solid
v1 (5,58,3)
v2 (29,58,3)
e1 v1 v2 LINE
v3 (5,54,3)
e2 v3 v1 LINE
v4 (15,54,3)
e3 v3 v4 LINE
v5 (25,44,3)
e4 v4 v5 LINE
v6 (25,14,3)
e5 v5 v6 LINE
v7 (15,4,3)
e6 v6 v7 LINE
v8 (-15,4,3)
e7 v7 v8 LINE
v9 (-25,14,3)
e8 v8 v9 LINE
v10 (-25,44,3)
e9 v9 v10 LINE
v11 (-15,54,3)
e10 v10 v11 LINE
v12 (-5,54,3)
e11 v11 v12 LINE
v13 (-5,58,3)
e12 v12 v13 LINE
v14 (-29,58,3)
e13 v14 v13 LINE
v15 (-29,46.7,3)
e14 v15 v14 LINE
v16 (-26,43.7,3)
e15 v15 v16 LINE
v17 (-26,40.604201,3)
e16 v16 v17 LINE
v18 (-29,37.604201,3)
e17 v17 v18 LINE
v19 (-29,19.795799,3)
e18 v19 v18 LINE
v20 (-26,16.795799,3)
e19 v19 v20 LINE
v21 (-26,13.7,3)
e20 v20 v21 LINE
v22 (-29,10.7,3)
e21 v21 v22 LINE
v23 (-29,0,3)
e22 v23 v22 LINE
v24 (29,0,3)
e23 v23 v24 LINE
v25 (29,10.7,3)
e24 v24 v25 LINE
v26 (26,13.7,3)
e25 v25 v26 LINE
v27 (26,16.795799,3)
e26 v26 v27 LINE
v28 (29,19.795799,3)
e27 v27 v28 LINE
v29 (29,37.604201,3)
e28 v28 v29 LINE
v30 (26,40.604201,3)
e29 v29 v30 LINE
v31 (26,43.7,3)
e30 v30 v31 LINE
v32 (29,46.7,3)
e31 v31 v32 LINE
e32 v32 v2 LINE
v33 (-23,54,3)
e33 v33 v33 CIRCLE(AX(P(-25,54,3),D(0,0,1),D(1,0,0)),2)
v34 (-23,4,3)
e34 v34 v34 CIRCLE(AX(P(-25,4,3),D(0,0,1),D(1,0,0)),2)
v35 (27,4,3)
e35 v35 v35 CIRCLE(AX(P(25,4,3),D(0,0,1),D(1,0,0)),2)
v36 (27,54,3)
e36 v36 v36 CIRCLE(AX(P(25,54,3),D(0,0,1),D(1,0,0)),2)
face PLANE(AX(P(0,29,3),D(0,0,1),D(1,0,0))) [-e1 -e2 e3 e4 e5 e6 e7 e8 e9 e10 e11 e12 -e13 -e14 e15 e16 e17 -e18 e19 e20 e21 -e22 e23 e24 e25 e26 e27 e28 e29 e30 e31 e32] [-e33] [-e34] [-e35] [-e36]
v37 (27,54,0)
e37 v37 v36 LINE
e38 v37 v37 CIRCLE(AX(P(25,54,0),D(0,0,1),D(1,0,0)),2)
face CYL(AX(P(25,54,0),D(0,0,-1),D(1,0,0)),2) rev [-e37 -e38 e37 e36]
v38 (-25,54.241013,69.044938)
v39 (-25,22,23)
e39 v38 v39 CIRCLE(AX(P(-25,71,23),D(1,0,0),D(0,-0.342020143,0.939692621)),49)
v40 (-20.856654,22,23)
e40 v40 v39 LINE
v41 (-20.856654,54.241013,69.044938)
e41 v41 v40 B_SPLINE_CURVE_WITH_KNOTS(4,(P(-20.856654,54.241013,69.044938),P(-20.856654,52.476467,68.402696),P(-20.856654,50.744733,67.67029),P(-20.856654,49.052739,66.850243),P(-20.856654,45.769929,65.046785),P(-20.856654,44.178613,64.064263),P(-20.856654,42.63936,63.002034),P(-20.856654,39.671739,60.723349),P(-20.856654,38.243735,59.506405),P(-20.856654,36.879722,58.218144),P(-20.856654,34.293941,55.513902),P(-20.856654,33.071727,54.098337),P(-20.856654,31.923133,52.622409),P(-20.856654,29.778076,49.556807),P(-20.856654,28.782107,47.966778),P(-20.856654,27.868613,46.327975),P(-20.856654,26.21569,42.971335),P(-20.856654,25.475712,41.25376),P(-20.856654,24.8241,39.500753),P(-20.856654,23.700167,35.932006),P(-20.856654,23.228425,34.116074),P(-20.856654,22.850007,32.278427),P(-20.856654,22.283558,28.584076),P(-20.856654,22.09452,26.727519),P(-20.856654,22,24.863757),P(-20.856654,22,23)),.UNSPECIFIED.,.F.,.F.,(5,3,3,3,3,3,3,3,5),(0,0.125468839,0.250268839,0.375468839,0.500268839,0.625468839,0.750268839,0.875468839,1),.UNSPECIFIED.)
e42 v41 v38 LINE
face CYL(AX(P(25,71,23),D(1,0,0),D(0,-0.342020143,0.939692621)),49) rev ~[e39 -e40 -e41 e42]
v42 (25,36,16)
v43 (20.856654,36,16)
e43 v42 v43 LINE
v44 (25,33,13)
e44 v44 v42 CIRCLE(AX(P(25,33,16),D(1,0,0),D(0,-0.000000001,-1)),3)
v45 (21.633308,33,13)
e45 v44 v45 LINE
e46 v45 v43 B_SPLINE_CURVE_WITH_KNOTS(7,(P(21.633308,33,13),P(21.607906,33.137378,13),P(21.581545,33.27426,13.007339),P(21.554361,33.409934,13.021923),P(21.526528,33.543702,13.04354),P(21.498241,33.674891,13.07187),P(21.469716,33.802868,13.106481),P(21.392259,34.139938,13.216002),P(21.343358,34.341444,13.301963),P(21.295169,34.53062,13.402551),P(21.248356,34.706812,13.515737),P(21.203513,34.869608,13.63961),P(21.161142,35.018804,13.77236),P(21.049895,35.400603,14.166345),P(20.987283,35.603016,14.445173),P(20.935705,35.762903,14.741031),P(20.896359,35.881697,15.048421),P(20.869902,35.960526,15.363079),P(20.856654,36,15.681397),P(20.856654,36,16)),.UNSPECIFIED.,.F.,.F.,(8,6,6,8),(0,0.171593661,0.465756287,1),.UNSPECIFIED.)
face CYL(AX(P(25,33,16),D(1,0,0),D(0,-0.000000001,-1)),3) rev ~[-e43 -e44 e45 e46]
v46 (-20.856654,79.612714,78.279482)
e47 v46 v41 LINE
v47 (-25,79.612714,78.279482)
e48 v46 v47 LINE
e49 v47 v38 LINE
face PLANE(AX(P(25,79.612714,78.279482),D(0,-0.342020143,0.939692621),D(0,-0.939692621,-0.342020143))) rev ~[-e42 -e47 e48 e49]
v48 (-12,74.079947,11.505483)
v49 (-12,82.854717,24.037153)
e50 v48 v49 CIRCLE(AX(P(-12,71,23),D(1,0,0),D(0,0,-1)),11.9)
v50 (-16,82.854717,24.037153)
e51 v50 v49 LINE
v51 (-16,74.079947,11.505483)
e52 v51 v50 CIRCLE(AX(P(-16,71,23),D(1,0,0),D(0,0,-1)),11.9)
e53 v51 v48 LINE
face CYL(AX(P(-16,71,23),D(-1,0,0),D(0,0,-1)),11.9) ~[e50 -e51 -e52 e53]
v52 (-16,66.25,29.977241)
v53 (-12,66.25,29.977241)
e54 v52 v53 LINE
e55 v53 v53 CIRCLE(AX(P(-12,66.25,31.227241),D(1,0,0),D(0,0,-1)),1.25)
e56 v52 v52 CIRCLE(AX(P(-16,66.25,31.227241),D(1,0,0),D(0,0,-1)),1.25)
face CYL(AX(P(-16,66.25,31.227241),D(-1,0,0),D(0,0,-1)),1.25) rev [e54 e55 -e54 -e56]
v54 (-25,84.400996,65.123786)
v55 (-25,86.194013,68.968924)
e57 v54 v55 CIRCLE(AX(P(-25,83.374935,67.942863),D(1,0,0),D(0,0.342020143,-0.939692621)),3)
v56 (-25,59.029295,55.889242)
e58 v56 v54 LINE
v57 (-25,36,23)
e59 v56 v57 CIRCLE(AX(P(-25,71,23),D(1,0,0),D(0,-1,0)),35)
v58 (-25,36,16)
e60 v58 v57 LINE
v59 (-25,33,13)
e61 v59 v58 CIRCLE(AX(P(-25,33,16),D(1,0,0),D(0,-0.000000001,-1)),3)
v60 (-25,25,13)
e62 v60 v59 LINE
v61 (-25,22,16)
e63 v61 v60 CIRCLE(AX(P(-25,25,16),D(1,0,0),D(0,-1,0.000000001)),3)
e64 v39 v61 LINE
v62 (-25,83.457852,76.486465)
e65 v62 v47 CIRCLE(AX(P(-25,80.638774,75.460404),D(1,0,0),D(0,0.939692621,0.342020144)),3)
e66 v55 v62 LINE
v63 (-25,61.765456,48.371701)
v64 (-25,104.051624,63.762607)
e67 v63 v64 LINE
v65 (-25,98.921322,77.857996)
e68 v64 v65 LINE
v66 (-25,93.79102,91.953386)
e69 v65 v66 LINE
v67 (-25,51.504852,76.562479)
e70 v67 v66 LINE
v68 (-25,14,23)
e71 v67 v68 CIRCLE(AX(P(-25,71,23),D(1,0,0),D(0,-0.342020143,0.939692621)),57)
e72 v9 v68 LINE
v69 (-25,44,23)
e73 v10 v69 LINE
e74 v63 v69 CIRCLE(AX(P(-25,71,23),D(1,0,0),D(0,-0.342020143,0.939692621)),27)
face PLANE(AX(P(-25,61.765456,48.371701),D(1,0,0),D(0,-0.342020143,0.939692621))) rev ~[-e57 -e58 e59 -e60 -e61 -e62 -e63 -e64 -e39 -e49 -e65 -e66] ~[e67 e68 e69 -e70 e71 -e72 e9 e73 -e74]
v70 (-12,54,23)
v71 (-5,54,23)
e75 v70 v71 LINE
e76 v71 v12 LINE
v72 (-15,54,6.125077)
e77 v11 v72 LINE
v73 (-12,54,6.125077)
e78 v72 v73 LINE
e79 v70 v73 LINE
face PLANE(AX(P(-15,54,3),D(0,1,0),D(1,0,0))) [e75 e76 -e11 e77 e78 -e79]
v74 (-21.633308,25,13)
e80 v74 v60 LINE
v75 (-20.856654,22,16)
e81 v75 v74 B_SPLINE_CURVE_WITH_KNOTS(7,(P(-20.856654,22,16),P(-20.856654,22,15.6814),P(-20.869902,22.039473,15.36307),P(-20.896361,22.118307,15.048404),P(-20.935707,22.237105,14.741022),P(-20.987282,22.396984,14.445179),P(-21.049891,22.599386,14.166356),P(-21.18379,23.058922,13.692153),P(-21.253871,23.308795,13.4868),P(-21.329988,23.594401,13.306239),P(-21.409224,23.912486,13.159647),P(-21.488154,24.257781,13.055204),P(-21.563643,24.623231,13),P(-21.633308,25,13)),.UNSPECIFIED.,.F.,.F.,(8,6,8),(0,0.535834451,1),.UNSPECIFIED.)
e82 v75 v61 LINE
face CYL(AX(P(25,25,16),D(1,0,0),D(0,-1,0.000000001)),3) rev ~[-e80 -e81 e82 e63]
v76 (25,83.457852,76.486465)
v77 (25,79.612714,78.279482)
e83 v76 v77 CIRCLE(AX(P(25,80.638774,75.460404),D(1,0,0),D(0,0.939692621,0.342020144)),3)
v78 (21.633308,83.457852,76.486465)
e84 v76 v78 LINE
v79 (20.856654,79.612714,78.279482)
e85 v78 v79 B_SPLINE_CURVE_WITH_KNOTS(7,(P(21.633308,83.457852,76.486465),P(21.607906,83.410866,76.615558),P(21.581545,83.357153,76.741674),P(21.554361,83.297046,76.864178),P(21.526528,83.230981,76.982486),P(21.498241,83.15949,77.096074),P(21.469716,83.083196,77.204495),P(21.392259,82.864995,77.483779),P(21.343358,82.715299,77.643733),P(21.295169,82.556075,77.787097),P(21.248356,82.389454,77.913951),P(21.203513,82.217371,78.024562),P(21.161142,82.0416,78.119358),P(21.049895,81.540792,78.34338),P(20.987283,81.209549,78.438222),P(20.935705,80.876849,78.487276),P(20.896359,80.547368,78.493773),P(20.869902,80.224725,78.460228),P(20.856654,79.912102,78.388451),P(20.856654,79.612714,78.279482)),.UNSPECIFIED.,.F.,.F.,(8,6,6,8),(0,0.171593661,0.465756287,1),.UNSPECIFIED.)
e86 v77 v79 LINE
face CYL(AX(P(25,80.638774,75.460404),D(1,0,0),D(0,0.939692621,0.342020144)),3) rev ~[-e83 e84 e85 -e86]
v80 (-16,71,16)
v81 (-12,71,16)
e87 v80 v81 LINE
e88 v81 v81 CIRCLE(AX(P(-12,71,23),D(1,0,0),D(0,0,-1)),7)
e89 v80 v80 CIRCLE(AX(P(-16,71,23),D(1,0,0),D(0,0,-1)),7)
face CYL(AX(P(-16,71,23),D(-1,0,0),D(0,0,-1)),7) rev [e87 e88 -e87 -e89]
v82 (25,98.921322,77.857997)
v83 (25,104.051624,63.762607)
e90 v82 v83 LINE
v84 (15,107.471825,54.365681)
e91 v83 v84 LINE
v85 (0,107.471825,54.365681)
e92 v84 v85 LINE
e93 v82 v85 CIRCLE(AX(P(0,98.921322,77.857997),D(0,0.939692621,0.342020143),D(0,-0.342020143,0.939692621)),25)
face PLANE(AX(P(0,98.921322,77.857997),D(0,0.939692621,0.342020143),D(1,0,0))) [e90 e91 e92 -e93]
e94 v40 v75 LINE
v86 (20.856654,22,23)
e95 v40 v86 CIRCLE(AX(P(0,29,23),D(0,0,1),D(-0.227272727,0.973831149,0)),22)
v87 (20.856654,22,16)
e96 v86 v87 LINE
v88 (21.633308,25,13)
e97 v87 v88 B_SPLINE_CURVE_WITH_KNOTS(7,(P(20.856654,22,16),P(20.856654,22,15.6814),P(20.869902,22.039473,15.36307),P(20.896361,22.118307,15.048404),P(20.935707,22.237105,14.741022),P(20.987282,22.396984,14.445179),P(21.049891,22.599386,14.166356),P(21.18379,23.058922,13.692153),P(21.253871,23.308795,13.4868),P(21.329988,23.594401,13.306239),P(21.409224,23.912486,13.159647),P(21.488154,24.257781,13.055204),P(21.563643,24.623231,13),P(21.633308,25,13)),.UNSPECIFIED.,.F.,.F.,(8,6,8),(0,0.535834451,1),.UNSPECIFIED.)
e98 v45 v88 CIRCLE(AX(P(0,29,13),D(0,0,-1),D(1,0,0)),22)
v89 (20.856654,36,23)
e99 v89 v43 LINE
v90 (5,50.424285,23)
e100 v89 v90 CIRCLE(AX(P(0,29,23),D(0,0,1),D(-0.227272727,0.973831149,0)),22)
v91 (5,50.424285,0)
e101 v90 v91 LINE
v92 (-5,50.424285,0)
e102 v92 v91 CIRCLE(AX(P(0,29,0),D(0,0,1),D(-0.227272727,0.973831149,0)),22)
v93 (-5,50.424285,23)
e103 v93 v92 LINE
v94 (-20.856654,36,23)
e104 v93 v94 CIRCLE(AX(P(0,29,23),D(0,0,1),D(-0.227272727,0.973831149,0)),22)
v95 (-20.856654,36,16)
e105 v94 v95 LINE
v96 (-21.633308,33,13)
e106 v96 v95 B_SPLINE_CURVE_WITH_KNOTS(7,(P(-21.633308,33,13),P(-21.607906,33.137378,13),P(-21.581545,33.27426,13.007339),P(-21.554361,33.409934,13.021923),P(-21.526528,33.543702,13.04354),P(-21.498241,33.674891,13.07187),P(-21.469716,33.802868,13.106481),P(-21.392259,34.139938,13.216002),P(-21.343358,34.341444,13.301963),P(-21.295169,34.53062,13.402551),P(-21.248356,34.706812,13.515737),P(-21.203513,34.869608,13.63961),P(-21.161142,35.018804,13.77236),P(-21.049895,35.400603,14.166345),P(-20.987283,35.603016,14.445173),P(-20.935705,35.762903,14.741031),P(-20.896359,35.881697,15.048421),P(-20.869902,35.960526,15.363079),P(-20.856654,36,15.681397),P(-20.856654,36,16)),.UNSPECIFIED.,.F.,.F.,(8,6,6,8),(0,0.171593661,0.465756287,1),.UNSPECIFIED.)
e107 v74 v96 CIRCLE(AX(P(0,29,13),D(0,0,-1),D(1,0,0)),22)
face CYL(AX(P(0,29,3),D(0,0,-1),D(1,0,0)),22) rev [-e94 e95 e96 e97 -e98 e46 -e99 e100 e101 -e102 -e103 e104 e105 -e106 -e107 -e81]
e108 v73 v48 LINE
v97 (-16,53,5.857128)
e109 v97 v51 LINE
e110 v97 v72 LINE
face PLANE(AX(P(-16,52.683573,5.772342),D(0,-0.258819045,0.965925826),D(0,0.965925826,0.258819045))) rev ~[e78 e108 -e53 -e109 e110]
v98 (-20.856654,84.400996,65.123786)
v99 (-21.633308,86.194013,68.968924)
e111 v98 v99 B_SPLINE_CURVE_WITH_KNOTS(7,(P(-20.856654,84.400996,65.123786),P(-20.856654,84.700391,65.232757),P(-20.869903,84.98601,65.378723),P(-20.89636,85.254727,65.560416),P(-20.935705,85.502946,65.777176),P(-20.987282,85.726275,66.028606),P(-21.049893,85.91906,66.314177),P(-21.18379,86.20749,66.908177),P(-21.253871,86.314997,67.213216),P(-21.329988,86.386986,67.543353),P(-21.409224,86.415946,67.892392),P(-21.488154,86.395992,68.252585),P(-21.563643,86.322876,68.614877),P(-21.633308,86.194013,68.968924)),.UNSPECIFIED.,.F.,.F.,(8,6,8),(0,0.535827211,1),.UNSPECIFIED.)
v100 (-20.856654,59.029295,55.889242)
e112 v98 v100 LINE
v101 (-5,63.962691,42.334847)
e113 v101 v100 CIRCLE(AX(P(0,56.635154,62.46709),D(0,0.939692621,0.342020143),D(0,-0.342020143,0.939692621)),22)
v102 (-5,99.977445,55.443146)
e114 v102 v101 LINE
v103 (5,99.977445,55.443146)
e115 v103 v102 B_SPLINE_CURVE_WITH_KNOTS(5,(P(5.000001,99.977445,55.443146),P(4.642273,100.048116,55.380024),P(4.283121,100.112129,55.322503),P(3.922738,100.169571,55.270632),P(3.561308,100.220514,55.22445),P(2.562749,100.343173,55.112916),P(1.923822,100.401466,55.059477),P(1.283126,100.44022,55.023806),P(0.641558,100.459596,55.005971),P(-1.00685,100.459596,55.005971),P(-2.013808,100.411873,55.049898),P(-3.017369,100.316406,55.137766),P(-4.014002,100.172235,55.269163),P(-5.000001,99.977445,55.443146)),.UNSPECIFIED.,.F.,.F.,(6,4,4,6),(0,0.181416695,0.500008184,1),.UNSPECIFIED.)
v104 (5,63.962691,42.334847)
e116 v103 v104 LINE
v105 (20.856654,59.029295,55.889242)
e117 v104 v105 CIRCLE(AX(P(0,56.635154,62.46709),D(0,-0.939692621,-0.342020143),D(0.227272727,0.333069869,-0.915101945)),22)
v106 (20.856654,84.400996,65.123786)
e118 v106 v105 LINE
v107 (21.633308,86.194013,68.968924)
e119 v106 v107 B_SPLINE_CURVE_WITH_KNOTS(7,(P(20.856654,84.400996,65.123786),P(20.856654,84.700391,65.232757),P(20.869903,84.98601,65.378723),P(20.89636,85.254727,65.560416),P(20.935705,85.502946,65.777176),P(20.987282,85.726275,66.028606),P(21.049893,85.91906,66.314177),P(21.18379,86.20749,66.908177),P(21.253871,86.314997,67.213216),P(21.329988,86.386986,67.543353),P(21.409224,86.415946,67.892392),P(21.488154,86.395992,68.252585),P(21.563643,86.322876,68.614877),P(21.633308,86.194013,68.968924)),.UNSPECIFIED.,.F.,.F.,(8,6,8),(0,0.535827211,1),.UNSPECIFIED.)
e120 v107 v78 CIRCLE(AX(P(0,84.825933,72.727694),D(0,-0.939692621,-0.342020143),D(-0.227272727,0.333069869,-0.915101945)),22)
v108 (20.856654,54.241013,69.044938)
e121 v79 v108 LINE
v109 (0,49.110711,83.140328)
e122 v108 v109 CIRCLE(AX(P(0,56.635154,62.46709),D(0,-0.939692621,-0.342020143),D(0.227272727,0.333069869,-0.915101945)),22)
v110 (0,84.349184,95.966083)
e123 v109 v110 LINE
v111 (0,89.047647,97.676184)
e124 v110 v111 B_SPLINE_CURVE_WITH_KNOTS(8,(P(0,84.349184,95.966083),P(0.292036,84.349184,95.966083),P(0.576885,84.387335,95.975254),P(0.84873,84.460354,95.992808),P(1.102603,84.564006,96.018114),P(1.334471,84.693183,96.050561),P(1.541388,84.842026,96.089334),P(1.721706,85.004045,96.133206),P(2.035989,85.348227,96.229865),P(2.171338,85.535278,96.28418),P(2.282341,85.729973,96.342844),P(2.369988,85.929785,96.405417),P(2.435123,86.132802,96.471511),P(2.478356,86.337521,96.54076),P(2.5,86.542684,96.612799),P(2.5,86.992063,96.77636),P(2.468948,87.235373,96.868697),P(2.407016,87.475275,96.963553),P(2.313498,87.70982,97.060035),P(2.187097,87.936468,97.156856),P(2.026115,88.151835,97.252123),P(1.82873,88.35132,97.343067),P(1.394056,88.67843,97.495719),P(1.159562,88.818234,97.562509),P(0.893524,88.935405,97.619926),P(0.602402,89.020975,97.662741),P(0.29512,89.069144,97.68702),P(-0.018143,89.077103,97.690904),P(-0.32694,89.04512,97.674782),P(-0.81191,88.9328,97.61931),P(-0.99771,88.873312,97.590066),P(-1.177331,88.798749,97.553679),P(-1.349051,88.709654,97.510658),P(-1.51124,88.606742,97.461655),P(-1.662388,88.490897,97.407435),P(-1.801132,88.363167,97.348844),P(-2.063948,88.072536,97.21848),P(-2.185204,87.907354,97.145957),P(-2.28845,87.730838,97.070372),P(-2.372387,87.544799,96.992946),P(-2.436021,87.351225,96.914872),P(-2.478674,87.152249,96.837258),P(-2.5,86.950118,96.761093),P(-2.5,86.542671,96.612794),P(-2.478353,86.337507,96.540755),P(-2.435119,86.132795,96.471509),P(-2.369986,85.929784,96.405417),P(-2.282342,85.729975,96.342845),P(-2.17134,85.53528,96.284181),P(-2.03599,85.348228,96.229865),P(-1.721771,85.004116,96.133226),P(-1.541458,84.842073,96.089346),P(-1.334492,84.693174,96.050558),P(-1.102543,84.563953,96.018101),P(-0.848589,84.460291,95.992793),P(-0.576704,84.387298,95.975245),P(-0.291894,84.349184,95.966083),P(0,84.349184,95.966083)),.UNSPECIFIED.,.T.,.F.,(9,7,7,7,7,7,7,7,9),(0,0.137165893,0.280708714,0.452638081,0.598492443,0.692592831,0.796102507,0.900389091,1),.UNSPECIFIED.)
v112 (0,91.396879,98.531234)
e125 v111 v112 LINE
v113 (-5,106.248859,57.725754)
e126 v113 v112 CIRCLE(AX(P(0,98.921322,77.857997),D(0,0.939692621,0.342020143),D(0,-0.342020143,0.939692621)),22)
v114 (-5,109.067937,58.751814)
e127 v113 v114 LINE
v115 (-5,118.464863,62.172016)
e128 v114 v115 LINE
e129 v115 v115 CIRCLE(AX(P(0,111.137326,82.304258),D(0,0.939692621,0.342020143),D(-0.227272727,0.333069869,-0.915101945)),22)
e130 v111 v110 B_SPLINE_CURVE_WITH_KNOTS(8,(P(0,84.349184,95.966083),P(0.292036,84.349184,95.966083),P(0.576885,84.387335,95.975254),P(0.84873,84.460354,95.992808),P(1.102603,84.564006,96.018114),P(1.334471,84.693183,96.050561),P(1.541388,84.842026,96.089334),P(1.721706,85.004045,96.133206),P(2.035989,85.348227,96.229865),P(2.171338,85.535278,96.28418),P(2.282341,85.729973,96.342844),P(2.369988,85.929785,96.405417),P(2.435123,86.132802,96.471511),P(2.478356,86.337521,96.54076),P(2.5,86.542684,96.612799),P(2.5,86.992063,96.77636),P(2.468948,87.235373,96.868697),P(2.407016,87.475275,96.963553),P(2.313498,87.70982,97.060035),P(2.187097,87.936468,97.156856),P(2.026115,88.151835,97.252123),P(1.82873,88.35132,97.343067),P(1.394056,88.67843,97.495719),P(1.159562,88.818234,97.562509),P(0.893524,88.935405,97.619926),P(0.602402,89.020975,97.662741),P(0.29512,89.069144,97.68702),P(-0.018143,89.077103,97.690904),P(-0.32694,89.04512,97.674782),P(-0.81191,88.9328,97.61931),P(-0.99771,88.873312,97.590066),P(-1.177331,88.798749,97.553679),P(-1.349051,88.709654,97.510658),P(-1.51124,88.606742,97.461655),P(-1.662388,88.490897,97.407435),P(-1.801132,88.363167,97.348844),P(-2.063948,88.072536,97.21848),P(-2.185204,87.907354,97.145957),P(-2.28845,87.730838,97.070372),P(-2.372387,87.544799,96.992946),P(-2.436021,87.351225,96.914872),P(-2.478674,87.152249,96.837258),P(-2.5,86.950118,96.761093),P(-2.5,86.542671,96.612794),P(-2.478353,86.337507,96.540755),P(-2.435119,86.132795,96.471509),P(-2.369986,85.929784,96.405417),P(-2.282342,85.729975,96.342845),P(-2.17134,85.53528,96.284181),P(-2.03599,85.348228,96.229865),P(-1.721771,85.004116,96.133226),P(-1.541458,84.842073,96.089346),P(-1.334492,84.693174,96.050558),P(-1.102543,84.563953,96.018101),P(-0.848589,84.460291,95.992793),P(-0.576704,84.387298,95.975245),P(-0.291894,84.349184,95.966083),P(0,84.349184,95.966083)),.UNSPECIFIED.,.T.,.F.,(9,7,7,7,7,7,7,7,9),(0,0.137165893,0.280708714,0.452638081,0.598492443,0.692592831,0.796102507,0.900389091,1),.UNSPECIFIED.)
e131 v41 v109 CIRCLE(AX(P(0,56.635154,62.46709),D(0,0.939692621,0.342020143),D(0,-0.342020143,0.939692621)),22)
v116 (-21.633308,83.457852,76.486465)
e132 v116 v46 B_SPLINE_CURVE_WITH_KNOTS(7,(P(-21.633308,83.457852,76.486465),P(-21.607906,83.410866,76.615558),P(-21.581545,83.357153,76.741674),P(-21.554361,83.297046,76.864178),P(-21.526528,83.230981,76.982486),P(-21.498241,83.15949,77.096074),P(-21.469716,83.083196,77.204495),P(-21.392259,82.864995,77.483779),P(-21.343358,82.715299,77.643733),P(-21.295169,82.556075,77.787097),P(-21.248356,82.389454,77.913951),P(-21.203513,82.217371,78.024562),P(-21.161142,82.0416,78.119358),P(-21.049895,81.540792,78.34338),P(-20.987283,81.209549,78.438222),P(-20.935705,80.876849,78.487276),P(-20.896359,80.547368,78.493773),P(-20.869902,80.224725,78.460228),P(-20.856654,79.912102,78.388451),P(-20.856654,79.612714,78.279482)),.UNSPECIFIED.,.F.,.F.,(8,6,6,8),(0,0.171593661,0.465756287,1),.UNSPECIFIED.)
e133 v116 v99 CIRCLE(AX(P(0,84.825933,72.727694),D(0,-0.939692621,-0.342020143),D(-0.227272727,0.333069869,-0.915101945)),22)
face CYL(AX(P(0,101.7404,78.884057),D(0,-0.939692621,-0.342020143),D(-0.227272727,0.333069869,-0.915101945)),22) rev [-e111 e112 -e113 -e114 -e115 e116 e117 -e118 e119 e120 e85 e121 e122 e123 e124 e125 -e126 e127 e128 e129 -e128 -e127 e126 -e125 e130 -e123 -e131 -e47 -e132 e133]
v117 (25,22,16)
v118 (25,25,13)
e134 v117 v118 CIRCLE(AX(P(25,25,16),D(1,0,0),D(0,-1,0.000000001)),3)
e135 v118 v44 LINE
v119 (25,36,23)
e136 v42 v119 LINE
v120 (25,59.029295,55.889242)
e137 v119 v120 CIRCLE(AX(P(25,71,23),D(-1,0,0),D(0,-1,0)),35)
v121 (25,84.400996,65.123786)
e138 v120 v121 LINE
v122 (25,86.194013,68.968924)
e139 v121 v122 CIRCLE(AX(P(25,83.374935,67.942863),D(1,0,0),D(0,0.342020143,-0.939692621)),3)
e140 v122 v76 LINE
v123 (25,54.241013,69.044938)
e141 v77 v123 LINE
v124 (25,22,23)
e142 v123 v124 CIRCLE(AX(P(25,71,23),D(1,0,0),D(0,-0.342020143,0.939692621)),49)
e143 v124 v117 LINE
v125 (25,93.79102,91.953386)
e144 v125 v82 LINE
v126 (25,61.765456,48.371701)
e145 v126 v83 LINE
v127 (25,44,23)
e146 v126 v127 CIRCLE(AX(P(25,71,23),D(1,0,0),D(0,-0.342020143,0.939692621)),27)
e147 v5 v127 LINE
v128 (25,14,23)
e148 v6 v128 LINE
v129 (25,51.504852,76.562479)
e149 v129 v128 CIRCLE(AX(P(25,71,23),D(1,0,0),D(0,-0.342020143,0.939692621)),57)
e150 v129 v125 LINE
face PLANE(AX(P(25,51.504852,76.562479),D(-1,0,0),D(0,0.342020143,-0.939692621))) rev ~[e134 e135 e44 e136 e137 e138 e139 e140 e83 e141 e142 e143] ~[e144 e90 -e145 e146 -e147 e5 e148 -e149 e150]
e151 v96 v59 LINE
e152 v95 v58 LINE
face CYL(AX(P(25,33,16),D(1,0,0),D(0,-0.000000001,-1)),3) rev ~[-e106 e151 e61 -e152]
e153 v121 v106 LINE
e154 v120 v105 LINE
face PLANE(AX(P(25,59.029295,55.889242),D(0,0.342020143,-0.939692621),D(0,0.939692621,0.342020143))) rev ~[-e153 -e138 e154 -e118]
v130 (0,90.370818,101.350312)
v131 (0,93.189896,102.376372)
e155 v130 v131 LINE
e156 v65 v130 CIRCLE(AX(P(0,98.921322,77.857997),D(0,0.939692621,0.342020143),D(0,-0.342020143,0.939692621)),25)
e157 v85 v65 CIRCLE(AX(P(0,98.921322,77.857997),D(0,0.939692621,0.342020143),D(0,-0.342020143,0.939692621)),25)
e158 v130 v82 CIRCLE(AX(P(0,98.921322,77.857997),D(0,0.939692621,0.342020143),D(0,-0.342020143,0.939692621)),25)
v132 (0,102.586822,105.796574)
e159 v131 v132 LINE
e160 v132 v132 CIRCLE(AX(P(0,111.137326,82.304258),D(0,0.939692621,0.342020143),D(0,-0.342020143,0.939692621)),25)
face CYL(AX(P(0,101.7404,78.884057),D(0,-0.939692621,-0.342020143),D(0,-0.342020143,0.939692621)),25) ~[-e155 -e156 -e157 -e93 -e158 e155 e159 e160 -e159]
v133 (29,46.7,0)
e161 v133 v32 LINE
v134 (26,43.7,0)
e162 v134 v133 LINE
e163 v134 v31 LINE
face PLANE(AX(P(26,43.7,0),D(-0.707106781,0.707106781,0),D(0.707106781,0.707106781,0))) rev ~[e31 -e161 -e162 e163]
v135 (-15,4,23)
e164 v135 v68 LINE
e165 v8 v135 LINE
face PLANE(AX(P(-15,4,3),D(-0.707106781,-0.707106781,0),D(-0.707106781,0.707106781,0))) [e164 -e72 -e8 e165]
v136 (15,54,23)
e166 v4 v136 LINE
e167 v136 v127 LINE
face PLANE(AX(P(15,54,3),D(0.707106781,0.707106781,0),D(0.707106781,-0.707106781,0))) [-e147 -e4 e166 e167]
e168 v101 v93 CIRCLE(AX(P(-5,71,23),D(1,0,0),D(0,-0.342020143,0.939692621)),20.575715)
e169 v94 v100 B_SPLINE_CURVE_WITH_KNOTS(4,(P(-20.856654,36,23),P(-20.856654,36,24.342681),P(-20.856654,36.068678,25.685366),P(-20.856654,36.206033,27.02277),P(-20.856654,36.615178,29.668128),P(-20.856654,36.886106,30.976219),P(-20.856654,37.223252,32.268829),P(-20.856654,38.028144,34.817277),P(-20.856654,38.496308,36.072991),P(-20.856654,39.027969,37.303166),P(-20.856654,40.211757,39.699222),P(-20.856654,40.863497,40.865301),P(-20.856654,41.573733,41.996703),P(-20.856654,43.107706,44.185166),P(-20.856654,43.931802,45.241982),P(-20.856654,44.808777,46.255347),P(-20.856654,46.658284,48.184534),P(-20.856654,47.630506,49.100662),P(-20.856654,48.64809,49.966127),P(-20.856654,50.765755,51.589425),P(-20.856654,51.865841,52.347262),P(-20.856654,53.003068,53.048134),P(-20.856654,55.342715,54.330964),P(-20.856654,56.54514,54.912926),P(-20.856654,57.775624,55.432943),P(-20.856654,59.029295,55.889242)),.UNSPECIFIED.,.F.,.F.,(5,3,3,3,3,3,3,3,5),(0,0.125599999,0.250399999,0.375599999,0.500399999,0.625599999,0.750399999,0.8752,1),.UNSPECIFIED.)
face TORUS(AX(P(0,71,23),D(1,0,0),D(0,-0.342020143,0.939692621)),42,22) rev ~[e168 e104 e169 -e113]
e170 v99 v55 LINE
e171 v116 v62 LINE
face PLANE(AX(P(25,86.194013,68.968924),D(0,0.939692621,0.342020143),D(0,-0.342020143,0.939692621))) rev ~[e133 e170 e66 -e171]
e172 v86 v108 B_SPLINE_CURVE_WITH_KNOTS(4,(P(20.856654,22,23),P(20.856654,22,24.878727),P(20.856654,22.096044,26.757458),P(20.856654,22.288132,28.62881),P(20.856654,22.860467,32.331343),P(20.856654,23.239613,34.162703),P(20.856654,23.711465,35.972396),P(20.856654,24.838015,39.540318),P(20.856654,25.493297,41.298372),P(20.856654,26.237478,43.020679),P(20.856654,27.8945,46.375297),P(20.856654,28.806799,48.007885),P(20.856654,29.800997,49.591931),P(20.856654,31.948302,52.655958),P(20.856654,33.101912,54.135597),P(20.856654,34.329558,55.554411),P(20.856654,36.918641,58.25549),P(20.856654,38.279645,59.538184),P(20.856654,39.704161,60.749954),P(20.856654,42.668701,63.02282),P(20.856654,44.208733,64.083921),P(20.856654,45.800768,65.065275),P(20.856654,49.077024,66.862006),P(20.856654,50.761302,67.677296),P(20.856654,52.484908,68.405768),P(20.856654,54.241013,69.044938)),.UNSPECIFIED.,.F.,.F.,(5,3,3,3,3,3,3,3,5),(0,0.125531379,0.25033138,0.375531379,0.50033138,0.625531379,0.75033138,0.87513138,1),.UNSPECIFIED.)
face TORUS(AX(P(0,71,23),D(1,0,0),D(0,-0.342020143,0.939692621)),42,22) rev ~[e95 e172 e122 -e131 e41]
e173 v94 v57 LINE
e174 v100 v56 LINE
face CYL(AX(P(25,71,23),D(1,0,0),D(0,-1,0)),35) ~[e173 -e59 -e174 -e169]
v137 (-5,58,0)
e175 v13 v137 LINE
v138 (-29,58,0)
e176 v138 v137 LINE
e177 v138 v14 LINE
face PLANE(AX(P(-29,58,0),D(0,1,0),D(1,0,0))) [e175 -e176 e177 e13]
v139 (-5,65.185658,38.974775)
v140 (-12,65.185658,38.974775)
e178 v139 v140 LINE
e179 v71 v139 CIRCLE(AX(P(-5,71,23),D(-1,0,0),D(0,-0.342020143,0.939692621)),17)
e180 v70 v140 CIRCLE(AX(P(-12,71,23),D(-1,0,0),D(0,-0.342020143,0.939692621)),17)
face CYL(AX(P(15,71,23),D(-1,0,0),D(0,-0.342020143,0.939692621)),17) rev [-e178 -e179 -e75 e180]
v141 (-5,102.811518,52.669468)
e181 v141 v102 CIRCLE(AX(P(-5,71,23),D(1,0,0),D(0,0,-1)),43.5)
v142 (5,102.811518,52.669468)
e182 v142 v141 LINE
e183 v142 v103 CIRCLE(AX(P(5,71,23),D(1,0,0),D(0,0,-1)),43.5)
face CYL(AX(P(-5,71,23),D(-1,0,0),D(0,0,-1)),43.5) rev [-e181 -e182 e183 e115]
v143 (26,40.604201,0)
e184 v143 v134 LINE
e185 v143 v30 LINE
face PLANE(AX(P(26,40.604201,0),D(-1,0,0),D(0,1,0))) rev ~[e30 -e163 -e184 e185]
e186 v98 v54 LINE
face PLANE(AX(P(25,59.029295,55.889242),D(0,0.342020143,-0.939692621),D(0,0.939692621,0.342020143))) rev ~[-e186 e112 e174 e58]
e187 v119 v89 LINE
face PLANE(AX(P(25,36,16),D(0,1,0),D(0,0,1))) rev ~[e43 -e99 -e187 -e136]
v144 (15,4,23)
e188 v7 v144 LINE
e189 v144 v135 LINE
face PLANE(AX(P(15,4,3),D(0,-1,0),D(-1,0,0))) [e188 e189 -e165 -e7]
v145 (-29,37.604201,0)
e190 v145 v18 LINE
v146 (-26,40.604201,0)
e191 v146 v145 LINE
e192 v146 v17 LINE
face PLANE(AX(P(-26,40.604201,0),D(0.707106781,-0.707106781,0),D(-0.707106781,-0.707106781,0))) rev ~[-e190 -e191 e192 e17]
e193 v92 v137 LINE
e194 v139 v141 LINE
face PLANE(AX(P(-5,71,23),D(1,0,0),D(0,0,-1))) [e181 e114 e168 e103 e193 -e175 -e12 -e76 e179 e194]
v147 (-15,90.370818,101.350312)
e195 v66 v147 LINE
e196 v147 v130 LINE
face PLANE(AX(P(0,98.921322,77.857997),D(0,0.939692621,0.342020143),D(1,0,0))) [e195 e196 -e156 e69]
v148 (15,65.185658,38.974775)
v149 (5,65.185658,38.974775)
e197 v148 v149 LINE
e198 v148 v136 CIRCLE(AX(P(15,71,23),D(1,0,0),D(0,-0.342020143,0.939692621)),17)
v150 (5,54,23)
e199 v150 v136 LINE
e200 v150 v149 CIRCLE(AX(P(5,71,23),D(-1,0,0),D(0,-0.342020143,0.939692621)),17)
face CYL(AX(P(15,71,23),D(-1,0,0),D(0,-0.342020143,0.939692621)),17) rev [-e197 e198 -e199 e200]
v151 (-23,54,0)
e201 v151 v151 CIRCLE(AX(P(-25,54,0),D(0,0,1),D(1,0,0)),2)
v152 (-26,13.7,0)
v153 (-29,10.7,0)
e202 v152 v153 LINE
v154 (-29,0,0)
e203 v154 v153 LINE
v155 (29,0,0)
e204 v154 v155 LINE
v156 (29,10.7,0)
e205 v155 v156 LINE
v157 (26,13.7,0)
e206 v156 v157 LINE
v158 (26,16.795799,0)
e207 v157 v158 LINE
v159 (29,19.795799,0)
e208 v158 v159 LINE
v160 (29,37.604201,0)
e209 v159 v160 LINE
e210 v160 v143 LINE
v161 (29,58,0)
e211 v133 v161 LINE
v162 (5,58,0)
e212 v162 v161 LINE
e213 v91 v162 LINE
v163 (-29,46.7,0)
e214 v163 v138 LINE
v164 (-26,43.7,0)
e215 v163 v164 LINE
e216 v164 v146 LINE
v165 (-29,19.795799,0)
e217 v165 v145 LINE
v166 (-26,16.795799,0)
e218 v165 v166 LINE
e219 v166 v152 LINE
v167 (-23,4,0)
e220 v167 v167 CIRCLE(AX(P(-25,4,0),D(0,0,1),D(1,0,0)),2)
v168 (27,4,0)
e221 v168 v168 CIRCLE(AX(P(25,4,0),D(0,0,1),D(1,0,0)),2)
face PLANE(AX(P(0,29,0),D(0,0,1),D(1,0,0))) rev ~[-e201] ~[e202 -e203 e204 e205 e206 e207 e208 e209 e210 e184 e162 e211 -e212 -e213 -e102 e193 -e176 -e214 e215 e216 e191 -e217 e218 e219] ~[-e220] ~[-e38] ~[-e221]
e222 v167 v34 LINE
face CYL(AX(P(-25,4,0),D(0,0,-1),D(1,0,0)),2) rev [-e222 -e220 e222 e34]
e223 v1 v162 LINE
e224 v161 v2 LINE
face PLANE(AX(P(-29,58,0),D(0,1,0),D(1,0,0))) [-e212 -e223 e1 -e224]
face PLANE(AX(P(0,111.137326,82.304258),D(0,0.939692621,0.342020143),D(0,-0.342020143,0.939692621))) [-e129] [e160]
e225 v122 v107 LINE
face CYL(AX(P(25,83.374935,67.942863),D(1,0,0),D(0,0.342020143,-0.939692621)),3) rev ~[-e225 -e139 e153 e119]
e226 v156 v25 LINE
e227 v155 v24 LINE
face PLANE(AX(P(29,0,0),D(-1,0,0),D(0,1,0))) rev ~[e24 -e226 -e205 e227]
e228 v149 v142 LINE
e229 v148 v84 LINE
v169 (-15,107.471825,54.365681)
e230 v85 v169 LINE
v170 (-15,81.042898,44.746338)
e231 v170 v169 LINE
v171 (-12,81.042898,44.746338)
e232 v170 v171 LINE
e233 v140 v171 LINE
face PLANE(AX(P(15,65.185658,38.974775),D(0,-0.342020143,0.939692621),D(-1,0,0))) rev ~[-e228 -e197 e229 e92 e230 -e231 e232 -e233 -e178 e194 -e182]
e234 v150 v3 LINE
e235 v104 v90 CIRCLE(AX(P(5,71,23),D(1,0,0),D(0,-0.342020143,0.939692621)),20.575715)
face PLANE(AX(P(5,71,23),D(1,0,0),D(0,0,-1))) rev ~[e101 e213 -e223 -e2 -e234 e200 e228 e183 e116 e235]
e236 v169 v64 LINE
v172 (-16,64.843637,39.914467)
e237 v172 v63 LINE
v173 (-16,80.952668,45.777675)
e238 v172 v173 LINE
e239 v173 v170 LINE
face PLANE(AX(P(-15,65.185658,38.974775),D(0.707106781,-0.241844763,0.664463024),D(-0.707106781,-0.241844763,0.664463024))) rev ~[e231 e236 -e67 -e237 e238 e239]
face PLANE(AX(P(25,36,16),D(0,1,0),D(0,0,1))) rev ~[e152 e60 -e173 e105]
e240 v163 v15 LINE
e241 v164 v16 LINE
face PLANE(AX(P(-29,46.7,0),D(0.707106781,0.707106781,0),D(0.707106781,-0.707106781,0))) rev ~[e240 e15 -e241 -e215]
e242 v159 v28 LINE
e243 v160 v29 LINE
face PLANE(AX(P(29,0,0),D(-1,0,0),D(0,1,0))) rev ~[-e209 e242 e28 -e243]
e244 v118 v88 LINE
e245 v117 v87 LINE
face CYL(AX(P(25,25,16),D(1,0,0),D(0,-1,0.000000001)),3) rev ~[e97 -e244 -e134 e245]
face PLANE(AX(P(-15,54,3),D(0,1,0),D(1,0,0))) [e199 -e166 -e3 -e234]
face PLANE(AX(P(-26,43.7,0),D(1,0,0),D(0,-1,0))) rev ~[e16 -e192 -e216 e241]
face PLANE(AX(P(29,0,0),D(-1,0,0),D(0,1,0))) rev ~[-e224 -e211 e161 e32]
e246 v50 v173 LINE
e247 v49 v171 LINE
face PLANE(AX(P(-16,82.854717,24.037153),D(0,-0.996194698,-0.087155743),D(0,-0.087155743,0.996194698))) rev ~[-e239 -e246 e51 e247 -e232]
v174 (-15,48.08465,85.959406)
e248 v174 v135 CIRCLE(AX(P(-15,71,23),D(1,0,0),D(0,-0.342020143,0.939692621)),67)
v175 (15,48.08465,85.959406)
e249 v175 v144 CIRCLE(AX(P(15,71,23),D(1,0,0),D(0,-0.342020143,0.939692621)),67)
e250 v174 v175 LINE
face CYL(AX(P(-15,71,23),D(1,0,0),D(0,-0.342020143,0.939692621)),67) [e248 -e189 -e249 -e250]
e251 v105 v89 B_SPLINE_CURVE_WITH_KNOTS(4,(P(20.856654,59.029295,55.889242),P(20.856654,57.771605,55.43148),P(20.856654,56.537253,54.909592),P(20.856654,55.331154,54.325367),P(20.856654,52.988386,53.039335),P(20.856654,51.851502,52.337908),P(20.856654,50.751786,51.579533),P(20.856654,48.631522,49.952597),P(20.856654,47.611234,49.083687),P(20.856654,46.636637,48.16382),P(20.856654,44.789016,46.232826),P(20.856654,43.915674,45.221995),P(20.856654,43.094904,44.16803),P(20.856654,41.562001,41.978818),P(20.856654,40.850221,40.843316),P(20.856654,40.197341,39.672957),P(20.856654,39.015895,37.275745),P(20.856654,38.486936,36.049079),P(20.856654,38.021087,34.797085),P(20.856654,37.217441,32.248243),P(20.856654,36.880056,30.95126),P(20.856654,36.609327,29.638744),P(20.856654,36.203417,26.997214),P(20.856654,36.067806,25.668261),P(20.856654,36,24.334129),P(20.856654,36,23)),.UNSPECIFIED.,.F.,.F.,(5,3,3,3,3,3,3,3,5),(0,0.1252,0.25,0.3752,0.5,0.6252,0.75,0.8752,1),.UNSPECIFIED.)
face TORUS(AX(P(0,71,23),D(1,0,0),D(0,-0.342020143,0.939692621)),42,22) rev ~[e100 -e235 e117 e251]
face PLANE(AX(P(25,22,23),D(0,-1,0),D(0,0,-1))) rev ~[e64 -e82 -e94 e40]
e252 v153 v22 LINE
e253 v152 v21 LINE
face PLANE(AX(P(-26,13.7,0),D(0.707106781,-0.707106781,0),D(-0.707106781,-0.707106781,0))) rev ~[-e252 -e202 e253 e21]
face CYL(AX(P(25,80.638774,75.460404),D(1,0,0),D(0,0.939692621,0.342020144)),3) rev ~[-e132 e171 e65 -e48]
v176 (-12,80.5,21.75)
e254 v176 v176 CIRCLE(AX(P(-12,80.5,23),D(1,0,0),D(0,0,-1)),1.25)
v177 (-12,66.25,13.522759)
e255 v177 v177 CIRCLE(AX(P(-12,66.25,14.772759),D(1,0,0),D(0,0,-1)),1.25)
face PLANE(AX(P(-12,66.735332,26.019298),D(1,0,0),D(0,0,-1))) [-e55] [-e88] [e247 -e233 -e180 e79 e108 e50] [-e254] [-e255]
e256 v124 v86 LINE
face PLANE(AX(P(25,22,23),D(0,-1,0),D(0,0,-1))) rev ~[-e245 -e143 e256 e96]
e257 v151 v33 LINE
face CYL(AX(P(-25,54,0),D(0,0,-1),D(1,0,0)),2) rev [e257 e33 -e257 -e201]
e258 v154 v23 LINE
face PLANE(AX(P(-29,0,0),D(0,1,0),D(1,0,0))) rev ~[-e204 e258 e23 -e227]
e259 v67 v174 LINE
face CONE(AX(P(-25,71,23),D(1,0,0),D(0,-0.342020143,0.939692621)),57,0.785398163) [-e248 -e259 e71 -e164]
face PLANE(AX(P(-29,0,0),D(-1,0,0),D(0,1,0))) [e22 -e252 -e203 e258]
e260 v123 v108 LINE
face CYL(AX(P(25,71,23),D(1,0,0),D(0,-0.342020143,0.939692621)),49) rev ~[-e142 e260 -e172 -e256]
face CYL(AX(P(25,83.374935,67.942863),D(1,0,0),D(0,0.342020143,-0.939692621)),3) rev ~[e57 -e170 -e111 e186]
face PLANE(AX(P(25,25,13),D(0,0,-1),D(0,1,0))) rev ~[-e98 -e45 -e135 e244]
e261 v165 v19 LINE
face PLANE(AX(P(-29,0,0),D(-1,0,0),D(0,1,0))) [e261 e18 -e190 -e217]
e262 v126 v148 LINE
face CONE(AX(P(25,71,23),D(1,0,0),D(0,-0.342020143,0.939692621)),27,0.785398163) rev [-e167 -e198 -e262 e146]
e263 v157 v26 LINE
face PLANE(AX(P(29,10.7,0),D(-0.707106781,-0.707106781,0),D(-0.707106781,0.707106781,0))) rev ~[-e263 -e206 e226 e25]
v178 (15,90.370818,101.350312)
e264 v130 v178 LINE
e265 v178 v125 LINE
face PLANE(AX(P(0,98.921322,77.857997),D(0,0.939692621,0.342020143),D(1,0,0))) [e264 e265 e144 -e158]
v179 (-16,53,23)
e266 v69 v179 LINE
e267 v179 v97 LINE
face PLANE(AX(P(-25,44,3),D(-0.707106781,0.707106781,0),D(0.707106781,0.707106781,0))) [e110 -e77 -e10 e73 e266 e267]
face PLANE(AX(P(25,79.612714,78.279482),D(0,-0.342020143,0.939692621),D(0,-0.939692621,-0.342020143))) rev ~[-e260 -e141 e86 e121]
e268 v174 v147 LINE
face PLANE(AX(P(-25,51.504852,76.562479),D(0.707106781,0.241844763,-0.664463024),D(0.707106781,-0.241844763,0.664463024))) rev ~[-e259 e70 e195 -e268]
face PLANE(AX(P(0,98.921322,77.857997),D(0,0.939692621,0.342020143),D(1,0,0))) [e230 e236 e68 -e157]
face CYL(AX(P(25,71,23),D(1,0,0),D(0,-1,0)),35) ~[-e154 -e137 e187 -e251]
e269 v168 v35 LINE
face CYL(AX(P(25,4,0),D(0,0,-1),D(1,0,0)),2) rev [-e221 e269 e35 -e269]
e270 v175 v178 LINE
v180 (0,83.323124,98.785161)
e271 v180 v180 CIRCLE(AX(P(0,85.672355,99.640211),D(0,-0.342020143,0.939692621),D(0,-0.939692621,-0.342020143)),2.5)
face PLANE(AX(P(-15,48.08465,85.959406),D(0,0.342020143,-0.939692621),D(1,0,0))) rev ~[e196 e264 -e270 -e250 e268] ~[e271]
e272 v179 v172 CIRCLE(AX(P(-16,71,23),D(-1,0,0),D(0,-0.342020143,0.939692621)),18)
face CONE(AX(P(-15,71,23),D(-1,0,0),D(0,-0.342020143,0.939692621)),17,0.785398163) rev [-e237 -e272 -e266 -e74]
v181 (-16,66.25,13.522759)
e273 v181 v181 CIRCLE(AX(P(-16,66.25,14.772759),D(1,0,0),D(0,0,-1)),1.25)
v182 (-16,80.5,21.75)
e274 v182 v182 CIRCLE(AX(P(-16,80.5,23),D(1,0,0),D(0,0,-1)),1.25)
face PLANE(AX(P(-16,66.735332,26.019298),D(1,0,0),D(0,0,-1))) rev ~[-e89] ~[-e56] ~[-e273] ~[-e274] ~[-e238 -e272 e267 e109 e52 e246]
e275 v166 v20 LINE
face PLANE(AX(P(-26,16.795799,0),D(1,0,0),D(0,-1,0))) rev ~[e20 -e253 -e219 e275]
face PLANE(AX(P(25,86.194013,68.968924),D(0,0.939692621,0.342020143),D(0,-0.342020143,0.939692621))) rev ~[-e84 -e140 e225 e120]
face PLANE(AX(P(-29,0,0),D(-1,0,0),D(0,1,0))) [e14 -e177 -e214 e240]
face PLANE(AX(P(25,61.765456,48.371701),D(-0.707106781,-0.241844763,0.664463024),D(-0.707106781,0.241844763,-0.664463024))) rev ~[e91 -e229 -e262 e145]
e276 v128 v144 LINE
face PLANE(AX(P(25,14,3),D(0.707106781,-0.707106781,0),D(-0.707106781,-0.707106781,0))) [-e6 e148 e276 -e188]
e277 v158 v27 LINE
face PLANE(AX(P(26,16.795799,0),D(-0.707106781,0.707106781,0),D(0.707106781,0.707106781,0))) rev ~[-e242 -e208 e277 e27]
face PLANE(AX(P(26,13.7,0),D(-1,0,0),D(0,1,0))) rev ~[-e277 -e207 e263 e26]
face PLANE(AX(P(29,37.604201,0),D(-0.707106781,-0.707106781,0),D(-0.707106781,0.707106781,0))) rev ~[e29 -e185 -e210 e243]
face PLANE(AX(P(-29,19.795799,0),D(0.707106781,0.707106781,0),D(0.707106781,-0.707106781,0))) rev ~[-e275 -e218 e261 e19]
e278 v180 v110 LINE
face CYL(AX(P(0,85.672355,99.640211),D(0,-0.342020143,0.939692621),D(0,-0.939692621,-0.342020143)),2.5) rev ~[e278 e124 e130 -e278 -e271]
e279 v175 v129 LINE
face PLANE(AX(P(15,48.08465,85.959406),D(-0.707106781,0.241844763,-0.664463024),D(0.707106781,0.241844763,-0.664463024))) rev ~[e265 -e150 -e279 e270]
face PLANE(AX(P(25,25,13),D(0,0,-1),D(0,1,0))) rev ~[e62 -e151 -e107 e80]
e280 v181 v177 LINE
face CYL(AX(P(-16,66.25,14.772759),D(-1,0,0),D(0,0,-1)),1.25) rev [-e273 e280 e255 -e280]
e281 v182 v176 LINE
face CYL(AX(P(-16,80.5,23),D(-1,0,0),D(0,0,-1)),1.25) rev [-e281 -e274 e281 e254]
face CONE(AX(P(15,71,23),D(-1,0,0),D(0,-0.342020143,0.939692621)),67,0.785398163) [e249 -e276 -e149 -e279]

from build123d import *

# Parameters (mm, degrees)
SKETCH_1_W               = 58
SKETCH_1_H               = 58
SKETCH_1_R               = 22
SKETCH_1_R_2             = 2
EXTRUDE_1_DEPTH          = 3
SKETCH_2_R               = 22
EXTRUDE_2_DEPTH          = 20
SKETCH_4_R               = 22
SKETCH_5_R               = 22
EXTRUDE_3_DEPTH          = 45
CUT_EXTRUDE_1_DEPTH      = 5
CUT_EXTRUDE_1_DEPTH_BACK = 5
SKETCH_6_R               = 43.5
SKETCH_11_R              = 25
SKETCH_11_R_2            = 22
EXTRUDE_7_DEPTH          = 3
SKETCH_12_R              = 25
SKETCH_12_R_2            = 22
EXTRUDE_8_DEPTH          = 10
SKETCH2_R                = 11.9
SKETCH2_R_2              = 7
SKETCH2_R_3              = 1.25
EXTRUDE1_DEPTH           = 4
CUT_EXTRUDE1_DEPTH       = 51
CUT_EXTRUDE2_DEPTH       = 3
SKETCH5_R                = 2.5
CUT_EXTRUDE3_DEPTH       = 10


with BuildPart() as part:
    # 草图1 → 凸台-拉伸1 (new body)
    with BuildSketch(Plane.XY):
        with Locations((0, 29)):
            Rectangle(SKETCH_1_W, SKETCH_1_H)
        with Locations((0, 29)):
            Circle(SKETCH_1_R, mode=Mode.SUBTRACT)
        with Locations((-25, 54)):
            Circle(SKETCH_1_R_2, mode=Mode.SUBTRACT)
        with Locations((25, 54)):
            Circle(SKETCH_1_R_2, mode=Mode.SUBTRACT)
        with Locations((25, 4)):
            Circle(SKETCH_1_R_2, mode=Mode.SUBTRACT)
        with Locations((-25, 4)):
            Circle(SKETCH_1_R_2, mode=Mode.SUBTRACT)
    extrude(amount=EXTRUDE_1_DEPTH)

    # 草图2 → 凸台-拉伸2 (add)
    with BuildSketch(Plane.XY.offset(3)):
        Polygon((-25, 44), (-15, 54), (15, 54), (25, 44), (25, 14), (15, 4), (-15, 4), (-25, 14), align=None)
        with Locations((0, 29)):
            Circle(SKETCH_2_R, mode=Mode.SUBTRACT)
    extrude(amount=EXTRUDE_2_DEPTH)

    # 扫描1: sweep along a path in 草图3
    with BuildLine(Plane(origin=(0, 0, 0), x_dir=(0, 0, -1), z_dir=(1, 0, 0))) as sweep_1_path:
        ThreePointArc((-62.467090073, 56.63515398), (-47.090210327, 36.59561414), (-23, 29))
    # 草图4 → 扫描1 (sweep)
    with BuildSketch(Plane.XY.offset(23)):
        Polygon((-25, 44), (-25, 14), (-15, 4), (15, 4), (25, 14), (25, 44), (15, 54), (-15, 54), align=None)
        with Locations((0, 29)):
            Circle(SKETCH_4_R, mode=Mode.SUBTRACT)
    sweep(path=sweep_1_path.line)

    # 草图5 → 凸台-拉伸3 (add)
    with BuildSketch(Plane(origin=(0, 70.086635242, 25.509449048), x_dir=(1, 0, 0), z_dir=(0, 0.9396926207859096, 0.34202014332566555))):
        Polygon((-15, -14.329500102), (-25, -24.329500102), (-25, -54.329500102), (-15, -64.329500102), (15, -64.329500102), (25, -54.329500102), (25, -24.329500102), (15, -14.329500102), align=None)
        with Locations(Location((0, -39.329500102, 0), (0, 0, 270))):
            Circle(SKETCH_5_R, mode=Mode.SUBTRACT)
    extrude(amount=EXTRUDE_3_DEPTH)

    # 草图6 → 切除-拉伸1 (cut, two sides: drawn at the far end of the back side and taken through both)
    with BuildSketch(Plane(origin=(0, 0, 0), x_dir=(0, 0, -1), z_dir=(1, 0, 0)).offset(-CUT_EXTRUDE_1_DEPTH_BACK)):
        with Locations((-23, 71)):
            Circle(SKETCH_6_R)
    extrude(amount=CUT_EXTRUDE_1_DEPTH + CUT_EXTRUDE_1_DEPTH_BACK, mode=Mode.SUBTRACT)

    # 草图11 → 凸台-拉伸7 (add)
    with BuildSketch(Plane(origin=(0, 112.372803177, 40.900355498), x_dir=(1, 0, 0), z_dir=(0, 0.9396926207859096, 0.3420201433256655))):
        with Locations(Location((0, -39.329500102, 0), (0, 0, 270))):
            Circle(SKETCH_11_R)
        with Locations(Location((0, -39.329500102, 0), (0, 0, 103.136558787))):
            Circle(SKETCH_11_R_2, mode=Mode.SUBTRACT)
    extrude(amount=EXTRUDE_7_DEPTH)

    # 草图12 → 凸台-拉伸8 (add)
    with BuildSketch(Plane(origin=(0, 115.19188104, 41.926415928), x_dir=(1, 0, 0), z_dir=(0, 0.9396926207859096, 0.34202014332566555))):
        with Locations(Location((0, -39.329500102, 0), (0, 0, 270))):
            Circle(SKETCH_12_R)
        with Locations(Location((0, -39.329500102, 0), (0, 0, 103.136558787))):
            Circle(SKETCH_12_R_2, mode=Mode.SUBTRACT)
    extrude(amount=EXTRUDE_8_DEPTH)

    # Sketch2 → Extrude1 (add)
    # profile 1 of 2: a face of its own
    with BuildSketch(Plane(origin=(-16, 0, 0), x_dir=(0, 0, -1), z_dir=(1, 0, 0))):
        with BuildLine():
            ThreePointArc((-11.1, 71), (-31.039523471, 62.226399692), (-24.037153339, 82.854716907))
            Line((-24.037153339, 82.854716907), (-46.297321767, 80.907204522))
            Line((-46.297321767, 80.907204522), (-37.464873971, 56.640253643))
            Line((-37.464873971, 56.640253643), (-28.143847274, 52.683572923))
            Line((-28.143847274, 52.683572923), (-5.77234161, 52.683572923))
            Line((-5.77234161, 52.683572923), (-11.505482667, 74.079946637))
            ThreePointArc((-11.505482667, 74.079946637), (-11.20180615, 72.553261687), (-11.1, 71))
        make_face()
    # profile 2 of 2: a face of its own
    with BuildSketch(Plane(origin=(-16, 0, 0), x_dir=(0, 0, -1), z_dir=(1, 0, 0))):
        with Locations((-23, 71)):
            Circle(SKETCH2_R)
        with Locations((-23, 71)):
            Circle(SKETCH2_R_2, mode=Mode.SUBTRACT)
        with Locations((-14.772758664, 66.25)):
            Circle(SKETCH2_R_3, mode=Mode.SUBTRACT)
        with Locations((-31.227241336, 66.25)):
            Circle(SKETCH2_R_3, mode=Mode.SUBTRACT)
        with Locations((-23, 80.5)):
            Circle(SKETCH2_R_3, mode=Mode.SUBTRACT)
    extrude(amount=EXTRUDE1_DEPTH)

    # Sketch3 → Cut-Extrude1 (cut)
    with BuildSketch(Plane(origin=(25, 0, 0), x_dir=(0, 0, -1), z_dir=(1, 0, 0))):
        with BuildLine():
            Line((-68.96892389, 86.194013177), (-76.486464856, 83.457852031))
            ThreePointArc((-76.486464856, 83.457852031), (-78.179327787, 81.906628953), (-78.279482288, 79.612713738))
            Line((-78.279482288, 79.612713738), (-69.044938419, 54.241012977))
            ThreePointArc((-69.044938419, 54.241012977), (-51.105245381, 30.86154983), (-23, 22))
            Line((-23, 22), (-16, 22))
            ThreePointArc((-16, 22), (-13.878679656, 22.878679656), (-13, 25))
            Line((-13, 25), (-13, 33))
            ThreePointArc((-13, 33), (-13.878679656, 35.121320344), (-16, 36))
            Line((-16, 36), (-23, 36))
            ThreePointArc((-23, 36), (-43.075175272, 42.32967845), (-55.889241728, 59.029294984))
            Line((-55.889241728, 59.029294984), (-65.123785597, 84.400995745))
            ThreePointArc((-65.123785597, 84.400995745), (-66.675008674, 86.093858676), (-68.96892389, 86.194013177))
        make_face()
    extrude(amount=-CUT_EXTRUDE1_DEPTH, mode=Mode.SUBTRACT)

    # Sketch4 → Cut-Extrude2 (cut)
    with BuildSketch(Plane(origin=(0, 0, 0), x_dir=(-1, 0, 0), z_dir=(0, 0, -1))):
        Polygon((-26, 16.795799061), (-29, 19.795799061), (-29, 10.7), (-26, 13.7), align=None)
        Polygon((-26, 43.7), (-29, 46.7), (-29, 37.604200939), (-26, 40.604200939), align=None)
        Polygon((26, 40.604200939), (29, 37.604200939), (29, 46.7), (26, 43.7), align=None)
        Polygon((29, 19.795799061), (26, 16.795799061), (26, 13.7), (29, 10.7), align=None)
    extrude(amount=-CUT_EXTRUDE2_DEPTH, mode=Mode.SUBTRACT)

    # Sketch5 → Cut-Extrude3 (cut)
    with BuildSketch(Plane(origin=(0, -22.001984845, 60.449956545), x_dir=(1, 0, 0), z_dir=(0, -0.3420201433256656, 0.9396926207859096))):
        with Locations(Location((0, 114.584639372, 0), (0, 0, 270))):
            Circle(SKETCH5_R)
    extrude(amount=-CUT_EXTRUDE3_DEPTH, mode=Mode.SUBTRACT)


solid = part.part
